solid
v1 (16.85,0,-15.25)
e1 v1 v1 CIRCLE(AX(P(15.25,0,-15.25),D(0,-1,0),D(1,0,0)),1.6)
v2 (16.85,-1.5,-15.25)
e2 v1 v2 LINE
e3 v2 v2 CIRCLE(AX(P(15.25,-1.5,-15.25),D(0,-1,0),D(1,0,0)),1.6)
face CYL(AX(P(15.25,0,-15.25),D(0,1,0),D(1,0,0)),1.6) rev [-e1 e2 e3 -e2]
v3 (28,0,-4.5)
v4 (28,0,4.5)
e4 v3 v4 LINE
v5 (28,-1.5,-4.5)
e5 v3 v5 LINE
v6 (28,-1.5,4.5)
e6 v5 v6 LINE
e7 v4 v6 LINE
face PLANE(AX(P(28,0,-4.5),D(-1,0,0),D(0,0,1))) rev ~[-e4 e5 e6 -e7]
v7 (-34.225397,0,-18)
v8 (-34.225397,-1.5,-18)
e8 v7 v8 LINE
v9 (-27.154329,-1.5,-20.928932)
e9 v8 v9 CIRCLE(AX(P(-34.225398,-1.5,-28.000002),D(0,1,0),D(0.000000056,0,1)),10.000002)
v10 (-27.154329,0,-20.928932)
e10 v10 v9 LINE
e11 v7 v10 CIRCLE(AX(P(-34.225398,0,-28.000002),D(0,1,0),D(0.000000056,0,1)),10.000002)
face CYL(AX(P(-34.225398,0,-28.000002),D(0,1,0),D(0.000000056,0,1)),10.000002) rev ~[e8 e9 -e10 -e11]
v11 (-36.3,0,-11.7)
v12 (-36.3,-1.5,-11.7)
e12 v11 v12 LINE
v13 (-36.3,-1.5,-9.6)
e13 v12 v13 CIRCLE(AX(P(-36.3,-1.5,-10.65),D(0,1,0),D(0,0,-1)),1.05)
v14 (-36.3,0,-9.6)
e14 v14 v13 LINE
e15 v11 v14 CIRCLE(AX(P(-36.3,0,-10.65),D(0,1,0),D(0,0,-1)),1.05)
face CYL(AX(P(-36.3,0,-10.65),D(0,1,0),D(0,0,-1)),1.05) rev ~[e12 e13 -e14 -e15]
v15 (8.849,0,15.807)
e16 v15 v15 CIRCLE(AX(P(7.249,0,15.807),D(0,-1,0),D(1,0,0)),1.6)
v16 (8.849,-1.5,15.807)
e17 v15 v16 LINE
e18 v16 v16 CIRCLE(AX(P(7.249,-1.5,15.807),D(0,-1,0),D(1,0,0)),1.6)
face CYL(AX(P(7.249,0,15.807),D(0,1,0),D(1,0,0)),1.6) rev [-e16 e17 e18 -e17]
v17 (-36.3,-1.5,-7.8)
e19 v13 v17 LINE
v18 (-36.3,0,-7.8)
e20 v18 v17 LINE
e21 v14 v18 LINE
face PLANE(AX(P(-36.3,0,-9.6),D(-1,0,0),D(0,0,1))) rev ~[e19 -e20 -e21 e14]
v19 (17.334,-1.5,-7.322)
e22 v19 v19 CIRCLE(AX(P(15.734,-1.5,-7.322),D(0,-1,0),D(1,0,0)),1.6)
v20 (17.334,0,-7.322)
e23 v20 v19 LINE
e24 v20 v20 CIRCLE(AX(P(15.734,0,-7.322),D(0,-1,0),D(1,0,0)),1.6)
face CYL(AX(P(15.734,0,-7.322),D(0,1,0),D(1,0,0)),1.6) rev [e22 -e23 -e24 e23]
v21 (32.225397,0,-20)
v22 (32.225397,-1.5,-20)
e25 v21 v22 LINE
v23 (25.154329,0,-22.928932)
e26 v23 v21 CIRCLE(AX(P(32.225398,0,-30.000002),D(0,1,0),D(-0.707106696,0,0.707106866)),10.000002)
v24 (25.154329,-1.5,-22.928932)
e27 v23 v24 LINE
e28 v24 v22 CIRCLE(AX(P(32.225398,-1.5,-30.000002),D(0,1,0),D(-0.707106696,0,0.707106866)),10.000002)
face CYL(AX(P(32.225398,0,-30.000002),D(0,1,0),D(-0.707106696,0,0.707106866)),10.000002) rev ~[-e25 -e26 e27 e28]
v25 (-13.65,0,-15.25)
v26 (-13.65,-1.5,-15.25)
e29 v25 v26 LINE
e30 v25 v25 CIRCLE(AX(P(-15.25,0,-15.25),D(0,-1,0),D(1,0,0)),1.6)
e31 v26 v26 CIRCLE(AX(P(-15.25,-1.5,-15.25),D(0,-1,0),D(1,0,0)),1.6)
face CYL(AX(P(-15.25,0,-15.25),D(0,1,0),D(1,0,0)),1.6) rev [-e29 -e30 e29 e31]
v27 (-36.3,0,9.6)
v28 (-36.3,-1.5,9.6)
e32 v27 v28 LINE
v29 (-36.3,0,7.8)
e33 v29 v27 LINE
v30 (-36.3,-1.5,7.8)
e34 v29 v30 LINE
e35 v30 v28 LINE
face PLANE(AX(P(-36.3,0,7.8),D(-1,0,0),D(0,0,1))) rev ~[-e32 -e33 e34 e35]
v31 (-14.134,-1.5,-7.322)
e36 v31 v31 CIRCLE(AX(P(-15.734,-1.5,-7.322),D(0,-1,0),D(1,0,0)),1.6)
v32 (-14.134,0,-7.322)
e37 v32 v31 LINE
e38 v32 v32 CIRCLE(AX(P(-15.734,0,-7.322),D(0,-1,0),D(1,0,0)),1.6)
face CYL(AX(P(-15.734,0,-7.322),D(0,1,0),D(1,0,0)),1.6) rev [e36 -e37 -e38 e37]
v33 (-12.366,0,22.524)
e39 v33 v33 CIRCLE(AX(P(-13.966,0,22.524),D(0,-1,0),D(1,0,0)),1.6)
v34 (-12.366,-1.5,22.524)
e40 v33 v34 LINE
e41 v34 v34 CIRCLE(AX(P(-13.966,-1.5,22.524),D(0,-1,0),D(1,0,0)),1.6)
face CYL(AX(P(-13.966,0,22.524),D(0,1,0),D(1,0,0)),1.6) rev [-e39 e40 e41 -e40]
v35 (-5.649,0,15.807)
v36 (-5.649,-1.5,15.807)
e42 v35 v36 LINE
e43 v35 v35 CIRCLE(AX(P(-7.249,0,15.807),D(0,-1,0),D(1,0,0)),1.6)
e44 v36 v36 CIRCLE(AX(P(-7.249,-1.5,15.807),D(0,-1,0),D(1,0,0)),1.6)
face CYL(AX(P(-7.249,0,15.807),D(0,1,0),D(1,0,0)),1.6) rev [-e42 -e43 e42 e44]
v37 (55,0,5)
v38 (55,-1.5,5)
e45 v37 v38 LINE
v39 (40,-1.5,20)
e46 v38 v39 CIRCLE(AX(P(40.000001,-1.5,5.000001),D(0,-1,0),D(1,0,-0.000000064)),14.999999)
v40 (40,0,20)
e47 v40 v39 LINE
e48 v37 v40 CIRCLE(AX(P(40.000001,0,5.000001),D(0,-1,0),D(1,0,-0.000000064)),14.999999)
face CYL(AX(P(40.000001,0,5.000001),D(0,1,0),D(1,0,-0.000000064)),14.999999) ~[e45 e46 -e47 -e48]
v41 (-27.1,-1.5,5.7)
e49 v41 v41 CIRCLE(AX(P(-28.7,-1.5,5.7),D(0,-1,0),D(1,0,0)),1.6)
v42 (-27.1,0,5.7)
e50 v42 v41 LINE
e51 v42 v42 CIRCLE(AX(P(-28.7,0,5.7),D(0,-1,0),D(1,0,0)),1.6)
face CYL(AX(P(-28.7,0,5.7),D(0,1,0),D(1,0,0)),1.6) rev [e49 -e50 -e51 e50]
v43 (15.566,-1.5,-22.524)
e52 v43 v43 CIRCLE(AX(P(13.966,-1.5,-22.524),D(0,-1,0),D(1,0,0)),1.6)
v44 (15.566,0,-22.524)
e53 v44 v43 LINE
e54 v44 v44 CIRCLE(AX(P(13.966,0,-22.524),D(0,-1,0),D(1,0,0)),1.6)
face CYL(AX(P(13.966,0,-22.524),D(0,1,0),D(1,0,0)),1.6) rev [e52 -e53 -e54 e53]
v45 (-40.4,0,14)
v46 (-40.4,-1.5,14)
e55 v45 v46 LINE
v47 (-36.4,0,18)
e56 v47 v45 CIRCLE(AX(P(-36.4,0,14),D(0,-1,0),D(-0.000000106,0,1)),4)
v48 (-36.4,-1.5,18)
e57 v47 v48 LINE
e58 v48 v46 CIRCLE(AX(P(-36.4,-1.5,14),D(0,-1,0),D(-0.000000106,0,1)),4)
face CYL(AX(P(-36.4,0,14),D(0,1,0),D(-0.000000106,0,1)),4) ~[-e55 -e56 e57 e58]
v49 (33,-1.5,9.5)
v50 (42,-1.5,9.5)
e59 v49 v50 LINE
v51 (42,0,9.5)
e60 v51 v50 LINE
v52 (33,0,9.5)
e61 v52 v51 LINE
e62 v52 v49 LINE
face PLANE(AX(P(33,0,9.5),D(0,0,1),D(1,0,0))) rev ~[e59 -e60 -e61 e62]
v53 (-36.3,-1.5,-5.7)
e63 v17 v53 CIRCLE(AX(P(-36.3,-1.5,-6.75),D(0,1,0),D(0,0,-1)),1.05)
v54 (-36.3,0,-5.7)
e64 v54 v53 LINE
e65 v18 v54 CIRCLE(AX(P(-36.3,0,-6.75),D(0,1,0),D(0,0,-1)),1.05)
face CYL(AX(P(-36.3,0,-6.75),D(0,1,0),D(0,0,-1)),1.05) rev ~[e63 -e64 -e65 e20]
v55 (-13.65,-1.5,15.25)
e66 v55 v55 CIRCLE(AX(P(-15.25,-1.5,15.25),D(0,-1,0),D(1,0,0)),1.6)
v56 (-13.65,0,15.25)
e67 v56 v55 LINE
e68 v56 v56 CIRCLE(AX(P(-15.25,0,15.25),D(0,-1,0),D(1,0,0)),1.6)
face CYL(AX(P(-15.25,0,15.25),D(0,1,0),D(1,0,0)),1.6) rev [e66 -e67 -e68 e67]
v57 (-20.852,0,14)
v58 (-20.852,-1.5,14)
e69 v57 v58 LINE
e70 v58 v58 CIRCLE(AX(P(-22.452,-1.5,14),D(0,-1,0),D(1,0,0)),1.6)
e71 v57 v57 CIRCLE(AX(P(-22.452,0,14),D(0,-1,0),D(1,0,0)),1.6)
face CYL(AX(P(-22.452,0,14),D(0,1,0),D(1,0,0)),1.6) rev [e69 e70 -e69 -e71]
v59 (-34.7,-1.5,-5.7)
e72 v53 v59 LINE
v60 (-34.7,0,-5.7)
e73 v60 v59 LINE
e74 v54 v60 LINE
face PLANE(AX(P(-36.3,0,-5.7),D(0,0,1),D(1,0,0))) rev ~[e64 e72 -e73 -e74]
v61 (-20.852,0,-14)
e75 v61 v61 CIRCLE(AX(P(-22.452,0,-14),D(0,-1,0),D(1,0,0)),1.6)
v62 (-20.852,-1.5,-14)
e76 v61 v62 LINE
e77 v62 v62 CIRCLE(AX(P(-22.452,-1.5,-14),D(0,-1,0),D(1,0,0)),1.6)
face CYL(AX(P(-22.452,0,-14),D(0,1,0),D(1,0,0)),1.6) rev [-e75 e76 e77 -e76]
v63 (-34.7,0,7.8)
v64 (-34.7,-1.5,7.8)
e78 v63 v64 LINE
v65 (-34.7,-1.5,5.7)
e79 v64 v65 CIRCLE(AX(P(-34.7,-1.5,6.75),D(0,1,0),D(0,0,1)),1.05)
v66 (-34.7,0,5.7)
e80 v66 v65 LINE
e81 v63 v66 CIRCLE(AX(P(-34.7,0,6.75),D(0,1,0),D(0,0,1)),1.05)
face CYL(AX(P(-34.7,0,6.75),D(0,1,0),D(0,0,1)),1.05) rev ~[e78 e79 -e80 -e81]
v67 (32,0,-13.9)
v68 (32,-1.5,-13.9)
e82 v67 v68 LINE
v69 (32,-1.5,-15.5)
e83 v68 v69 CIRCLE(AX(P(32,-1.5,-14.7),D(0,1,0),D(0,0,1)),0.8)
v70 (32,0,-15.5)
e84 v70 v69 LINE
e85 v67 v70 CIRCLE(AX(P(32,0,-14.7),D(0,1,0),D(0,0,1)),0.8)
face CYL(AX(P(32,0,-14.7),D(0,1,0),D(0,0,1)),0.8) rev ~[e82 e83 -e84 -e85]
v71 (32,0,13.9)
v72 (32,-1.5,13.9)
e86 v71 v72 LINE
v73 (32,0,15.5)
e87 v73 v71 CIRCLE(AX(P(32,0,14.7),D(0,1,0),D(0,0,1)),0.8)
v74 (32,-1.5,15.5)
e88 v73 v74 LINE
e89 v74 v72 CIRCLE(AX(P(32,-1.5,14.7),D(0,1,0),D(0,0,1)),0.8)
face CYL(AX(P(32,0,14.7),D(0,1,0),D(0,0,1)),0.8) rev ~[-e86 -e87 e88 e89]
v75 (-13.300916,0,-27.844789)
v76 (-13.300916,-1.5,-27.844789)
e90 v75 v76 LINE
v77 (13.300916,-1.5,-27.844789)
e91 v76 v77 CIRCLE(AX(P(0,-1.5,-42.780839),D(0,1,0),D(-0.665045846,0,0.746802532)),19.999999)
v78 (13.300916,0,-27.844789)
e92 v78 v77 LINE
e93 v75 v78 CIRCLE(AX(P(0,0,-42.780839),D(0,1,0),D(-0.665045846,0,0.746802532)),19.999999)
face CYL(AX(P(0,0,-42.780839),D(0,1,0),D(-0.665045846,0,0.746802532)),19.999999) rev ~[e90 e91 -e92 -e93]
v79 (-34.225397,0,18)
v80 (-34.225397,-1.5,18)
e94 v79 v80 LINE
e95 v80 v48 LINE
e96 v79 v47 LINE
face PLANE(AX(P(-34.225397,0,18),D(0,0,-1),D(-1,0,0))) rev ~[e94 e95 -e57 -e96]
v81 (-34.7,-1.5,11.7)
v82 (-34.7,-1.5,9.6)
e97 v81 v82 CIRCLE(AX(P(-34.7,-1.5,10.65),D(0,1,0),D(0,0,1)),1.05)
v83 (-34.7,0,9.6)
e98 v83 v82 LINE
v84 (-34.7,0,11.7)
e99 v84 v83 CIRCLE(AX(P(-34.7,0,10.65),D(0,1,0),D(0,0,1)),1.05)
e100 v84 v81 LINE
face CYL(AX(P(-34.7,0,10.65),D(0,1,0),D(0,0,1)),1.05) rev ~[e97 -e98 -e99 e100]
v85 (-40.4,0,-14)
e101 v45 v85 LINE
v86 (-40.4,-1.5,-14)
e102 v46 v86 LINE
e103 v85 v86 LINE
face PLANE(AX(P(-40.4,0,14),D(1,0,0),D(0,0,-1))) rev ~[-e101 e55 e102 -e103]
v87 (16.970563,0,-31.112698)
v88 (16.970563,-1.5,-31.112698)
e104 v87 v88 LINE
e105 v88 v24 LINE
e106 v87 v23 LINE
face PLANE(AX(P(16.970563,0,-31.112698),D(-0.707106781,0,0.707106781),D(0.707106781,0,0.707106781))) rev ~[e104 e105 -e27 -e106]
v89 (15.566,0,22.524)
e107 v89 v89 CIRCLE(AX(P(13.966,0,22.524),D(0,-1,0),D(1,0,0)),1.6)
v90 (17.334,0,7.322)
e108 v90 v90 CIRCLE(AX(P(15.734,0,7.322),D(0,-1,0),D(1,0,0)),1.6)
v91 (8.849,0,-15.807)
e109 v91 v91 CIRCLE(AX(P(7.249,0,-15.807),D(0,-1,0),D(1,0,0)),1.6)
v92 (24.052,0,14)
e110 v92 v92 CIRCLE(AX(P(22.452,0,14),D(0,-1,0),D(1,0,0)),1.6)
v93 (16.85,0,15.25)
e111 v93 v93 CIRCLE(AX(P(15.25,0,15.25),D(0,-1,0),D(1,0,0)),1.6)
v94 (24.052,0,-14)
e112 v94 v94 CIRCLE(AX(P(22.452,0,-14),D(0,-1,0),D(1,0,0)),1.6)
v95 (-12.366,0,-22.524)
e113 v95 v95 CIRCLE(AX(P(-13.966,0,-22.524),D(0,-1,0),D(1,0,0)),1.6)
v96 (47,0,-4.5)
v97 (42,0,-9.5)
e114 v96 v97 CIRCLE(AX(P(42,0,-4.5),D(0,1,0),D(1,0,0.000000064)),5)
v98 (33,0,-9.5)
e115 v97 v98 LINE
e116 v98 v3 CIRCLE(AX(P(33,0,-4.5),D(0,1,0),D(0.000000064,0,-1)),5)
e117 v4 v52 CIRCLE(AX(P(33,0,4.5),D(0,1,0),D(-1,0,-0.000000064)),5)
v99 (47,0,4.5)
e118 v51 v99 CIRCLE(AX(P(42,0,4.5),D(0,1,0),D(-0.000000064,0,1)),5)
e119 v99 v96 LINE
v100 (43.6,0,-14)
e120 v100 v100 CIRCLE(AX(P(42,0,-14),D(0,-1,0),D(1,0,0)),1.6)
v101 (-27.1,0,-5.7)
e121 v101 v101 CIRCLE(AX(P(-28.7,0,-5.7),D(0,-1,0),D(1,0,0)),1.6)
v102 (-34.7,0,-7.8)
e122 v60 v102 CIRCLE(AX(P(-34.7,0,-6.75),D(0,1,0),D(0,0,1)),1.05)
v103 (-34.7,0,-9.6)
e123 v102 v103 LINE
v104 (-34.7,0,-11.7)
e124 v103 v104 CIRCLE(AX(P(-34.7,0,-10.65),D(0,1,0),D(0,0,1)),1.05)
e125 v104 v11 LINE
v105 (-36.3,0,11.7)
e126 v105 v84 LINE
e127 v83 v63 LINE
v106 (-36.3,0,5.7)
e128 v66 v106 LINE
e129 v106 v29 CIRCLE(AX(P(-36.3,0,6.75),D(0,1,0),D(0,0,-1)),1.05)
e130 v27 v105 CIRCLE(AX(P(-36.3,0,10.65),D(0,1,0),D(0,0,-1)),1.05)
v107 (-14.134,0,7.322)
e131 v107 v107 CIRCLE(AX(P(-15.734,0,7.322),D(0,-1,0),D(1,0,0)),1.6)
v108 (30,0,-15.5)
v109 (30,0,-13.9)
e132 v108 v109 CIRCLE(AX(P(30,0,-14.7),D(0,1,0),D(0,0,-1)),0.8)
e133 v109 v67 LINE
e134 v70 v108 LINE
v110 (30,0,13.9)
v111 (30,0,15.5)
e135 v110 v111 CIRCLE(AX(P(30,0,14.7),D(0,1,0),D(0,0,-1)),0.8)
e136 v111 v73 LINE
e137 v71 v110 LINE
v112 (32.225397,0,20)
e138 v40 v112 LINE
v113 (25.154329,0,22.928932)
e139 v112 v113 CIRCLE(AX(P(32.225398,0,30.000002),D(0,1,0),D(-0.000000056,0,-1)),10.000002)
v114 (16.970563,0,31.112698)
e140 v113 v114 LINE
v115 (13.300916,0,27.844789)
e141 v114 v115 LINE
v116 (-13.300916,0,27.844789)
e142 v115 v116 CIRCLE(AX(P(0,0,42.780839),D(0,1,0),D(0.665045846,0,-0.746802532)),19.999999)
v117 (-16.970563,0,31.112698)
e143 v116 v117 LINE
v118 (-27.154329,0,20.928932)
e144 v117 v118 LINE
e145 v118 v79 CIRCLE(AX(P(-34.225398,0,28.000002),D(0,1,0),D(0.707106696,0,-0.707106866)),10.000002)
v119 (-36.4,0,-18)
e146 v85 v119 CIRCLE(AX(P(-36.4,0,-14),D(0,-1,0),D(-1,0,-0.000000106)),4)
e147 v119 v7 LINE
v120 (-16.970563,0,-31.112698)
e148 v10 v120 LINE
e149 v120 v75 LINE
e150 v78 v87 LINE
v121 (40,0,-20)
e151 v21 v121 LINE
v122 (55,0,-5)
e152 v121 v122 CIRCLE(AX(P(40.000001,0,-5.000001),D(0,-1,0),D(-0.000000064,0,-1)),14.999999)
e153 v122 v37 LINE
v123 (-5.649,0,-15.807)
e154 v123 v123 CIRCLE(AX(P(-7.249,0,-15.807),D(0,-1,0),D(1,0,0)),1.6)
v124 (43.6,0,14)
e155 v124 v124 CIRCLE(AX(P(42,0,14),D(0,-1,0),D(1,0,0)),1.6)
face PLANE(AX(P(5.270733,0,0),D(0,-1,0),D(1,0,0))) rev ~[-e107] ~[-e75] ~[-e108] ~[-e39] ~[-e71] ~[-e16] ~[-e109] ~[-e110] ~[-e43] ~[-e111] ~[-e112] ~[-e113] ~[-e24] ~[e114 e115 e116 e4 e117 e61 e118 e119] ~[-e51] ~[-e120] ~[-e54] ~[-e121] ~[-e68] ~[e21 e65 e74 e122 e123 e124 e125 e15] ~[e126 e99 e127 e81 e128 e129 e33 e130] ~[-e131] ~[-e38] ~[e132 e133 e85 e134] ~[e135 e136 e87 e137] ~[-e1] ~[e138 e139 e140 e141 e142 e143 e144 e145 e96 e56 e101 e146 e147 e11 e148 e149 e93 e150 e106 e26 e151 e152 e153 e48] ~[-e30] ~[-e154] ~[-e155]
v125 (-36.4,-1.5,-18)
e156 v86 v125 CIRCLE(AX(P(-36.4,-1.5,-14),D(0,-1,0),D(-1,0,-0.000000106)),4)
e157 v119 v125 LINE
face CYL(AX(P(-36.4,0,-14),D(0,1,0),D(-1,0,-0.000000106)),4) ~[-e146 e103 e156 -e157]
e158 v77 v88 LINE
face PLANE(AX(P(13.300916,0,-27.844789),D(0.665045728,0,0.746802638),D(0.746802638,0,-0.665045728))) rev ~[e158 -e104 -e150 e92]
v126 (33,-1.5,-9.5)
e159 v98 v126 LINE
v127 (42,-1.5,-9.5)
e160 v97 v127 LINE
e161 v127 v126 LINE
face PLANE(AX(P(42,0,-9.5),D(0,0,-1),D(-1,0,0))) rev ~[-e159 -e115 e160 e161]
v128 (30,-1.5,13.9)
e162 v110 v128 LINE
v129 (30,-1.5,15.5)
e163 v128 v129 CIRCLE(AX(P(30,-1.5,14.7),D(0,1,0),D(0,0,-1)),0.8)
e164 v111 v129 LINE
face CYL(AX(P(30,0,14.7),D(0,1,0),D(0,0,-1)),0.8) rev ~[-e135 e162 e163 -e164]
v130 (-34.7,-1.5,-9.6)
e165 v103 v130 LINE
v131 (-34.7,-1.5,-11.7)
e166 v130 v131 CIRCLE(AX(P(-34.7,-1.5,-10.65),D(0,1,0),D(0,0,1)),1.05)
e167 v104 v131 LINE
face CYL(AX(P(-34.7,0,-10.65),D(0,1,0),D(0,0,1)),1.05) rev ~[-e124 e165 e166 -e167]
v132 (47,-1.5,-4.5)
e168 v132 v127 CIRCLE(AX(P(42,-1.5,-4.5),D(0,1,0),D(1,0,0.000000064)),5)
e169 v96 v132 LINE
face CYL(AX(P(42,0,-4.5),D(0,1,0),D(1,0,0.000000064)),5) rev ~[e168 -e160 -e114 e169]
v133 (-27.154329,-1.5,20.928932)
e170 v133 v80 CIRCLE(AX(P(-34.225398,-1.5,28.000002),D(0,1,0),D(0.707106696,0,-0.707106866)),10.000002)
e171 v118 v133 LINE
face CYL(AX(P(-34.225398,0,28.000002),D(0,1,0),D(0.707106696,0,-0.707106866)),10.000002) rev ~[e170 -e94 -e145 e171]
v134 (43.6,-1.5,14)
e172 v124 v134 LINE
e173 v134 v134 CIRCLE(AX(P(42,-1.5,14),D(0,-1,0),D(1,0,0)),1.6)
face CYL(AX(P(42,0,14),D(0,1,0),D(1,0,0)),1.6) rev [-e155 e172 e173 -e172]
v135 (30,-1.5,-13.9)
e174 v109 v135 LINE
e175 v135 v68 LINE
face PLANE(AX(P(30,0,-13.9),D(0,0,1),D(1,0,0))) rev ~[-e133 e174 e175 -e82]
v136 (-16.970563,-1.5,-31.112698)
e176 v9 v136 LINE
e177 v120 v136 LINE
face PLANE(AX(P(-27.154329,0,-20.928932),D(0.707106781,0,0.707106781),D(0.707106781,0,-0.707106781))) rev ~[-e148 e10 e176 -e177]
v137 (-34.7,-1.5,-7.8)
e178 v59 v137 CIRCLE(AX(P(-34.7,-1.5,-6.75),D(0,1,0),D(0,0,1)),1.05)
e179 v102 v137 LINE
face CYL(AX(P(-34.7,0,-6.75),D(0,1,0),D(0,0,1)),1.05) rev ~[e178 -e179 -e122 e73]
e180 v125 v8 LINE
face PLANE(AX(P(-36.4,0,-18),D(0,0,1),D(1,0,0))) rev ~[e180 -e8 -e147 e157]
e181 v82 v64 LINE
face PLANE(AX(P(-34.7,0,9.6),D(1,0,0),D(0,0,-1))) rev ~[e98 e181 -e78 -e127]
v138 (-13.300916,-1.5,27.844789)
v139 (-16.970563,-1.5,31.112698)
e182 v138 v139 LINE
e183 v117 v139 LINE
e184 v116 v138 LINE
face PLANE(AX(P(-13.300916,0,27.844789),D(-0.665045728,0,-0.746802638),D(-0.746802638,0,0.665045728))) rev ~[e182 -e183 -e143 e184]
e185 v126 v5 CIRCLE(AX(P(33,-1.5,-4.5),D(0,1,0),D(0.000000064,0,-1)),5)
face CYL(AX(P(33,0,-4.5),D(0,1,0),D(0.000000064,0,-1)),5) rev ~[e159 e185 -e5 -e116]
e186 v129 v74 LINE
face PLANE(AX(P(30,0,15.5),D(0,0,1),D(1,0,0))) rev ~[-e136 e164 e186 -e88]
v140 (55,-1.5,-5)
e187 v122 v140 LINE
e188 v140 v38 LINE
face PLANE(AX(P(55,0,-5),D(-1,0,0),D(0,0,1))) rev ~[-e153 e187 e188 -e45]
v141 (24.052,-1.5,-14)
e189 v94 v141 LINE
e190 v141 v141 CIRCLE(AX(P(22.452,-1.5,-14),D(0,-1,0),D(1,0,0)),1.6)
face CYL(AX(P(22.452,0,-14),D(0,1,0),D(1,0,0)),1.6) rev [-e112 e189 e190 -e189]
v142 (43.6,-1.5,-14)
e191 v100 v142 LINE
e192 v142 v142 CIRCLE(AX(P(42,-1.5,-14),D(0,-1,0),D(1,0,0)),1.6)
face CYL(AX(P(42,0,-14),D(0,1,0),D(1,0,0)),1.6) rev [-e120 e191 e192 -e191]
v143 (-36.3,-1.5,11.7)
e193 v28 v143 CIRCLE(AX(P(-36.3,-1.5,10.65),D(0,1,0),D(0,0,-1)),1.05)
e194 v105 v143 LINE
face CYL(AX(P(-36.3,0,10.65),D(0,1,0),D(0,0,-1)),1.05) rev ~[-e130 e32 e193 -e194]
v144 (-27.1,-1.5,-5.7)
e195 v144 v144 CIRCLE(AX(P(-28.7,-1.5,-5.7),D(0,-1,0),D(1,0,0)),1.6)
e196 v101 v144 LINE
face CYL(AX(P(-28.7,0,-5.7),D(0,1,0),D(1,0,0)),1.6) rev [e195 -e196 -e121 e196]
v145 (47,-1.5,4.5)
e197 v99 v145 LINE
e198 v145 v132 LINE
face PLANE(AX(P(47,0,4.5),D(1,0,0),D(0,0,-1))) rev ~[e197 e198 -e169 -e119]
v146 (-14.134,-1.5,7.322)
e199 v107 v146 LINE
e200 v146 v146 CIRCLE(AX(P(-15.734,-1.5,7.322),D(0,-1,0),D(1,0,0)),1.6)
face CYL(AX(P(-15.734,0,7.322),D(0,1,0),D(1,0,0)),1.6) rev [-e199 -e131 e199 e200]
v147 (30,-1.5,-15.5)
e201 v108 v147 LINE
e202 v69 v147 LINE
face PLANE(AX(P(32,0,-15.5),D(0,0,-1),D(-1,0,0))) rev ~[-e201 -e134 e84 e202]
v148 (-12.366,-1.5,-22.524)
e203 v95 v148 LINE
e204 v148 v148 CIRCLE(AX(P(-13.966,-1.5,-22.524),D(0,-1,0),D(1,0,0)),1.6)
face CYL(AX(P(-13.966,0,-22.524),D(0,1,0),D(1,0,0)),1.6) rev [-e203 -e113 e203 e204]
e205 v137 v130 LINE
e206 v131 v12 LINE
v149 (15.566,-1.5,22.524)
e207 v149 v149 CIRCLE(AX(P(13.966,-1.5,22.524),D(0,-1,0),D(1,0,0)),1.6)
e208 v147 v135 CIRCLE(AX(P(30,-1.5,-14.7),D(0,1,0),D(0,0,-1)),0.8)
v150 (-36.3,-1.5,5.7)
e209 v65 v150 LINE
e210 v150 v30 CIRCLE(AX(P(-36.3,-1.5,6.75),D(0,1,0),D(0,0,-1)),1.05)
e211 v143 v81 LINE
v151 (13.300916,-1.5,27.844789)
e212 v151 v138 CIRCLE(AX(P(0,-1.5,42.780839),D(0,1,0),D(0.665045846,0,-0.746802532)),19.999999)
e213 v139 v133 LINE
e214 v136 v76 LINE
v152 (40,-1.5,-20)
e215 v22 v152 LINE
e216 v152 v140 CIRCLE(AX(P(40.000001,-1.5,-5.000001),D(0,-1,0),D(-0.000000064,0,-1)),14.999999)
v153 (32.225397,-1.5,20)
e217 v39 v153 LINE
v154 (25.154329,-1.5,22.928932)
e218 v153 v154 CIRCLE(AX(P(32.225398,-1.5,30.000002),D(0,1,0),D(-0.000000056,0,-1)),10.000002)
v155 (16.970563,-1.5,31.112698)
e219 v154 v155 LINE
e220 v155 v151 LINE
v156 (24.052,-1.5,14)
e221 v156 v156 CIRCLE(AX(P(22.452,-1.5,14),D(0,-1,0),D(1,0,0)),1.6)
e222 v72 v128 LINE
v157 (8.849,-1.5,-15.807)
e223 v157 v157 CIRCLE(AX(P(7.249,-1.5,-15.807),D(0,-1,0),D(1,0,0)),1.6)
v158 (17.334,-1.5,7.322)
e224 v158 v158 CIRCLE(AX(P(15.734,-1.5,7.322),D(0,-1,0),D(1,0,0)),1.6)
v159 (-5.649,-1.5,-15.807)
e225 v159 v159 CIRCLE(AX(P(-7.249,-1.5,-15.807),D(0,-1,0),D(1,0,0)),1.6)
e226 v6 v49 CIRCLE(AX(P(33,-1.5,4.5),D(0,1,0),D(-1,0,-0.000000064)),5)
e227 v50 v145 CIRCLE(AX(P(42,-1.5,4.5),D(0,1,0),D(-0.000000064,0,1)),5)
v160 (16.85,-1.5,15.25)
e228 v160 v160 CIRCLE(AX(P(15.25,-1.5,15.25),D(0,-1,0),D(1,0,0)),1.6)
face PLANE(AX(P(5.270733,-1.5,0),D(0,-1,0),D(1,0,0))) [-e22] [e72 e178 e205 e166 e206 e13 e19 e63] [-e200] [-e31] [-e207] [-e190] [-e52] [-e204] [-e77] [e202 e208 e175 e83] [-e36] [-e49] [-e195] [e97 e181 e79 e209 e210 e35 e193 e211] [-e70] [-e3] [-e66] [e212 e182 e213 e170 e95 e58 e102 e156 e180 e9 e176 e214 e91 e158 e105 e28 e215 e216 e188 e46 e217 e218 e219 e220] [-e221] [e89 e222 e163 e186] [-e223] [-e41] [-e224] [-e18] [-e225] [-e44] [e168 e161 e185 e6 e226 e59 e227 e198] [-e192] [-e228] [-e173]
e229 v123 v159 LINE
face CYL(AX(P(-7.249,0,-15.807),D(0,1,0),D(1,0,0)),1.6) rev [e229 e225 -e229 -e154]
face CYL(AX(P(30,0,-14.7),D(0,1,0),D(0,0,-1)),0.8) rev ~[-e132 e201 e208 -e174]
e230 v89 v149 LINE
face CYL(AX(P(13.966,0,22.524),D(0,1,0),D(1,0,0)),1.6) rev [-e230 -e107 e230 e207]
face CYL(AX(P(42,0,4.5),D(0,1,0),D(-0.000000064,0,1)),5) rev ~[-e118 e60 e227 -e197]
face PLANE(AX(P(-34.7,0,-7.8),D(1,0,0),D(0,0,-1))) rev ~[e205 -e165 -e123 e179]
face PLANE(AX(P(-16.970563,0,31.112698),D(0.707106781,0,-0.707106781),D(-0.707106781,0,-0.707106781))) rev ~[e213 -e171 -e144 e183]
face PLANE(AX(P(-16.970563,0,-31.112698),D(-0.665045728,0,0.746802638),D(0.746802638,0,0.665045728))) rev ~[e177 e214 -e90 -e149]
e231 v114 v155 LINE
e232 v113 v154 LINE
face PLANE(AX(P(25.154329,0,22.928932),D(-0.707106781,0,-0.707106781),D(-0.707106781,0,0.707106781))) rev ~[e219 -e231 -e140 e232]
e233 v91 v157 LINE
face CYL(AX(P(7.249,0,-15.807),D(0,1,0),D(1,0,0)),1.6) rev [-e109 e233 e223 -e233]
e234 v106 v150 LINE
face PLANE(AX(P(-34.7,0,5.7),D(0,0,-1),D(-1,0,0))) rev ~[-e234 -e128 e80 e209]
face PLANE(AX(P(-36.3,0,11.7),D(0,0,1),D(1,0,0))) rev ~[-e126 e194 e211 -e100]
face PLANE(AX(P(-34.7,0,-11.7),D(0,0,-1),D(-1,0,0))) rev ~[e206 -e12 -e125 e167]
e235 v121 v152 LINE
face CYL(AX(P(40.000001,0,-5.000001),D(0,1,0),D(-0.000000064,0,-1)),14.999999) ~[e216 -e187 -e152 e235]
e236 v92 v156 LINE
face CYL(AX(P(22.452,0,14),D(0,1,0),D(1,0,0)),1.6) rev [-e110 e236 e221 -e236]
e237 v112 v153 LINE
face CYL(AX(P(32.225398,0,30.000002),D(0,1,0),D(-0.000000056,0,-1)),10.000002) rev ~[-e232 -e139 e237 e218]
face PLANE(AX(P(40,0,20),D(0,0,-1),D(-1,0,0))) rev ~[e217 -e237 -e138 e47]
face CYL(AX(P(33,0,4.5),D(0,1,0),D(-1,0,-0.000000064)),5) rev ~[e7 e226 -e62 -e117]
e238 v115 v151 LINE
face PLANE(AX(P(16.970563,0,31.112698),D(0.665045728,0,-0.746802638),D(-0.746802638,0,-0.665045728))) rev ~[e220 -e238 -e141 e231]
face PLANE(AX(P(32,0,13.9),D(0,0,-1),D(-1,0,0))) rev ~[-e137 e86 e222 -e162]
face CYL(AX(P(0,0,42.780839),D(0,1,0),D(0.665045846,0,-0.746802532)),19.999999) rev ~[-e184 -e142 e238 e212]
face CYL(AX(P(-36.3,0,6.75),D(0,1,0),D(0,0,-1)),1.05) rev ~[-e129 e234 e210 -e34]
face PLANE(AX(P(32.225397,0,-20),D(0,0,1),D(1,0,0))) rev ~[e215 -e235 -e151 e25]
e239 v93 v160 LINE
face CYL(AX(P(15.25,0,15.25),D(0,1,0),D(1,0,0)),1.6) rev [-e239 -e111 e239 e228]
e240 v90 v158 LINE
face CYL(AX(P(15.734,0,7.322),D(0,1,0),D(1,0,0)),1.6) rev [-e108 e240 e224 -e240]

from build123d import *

# Parameters (mm, degrees)
F0_R     = 1.6
F1_DEPTH = 1.5


with BuildPart() as f1:
    # F0 (on Front) → F1 (new body)
    with BuildSketch(Plane.XZ):
        with BuildLine():
            Line((25.154329, 22.928932), (16.970563, 31.112698))
            Line((16.970563, 31.112698), (13.300916, 27.844789))
            ThreePointArc((13.300916, 27.844789), (0, 22.78084), (-13.300916, 27.844789))
            Line((-13.300916, 27.844789), (-16.970563, 31.112698))
            Line((-16.970563, 31.112698), (-27.154329, 20.928932))
            ThreePointArc((-27.154329, 20.928932), (-30.398562, 18.761205), (-34.225397, 18))
            Line((-34.225397, 18), (-36.4, 18))
            ThreePointArc((-36.4, 18), (-39.228427, 16.828427), (-40.4, 14))
            Line((-40.4, 14), (-40.4, 0))
            Line((-40.4, 0), (-40.4, -14))
            ThreePointArc((-40.4, -14), (-39.228427, -16.828427), (-36.4, -18))
            Line((-36.4, -18), (-34.225397, -18))
            ThreePointArc((-34.225397, -18), (-30.398562, -18.761205), (-27.154329, -20.928932))
            Line((-27.154329, -20.928932), (-16.970563, -31.112698))
            Line((-16.970563, -31.112698), (-13.300916, -27.844789))
            ThreePointArc((-13.300916, -27.844789), (0, -22.78084), (13.300916, -27.844789))
            Line((13.300916, -27.844789), (16.970563, -31.112698))
            Line((16.970563, -31.112698), (25.154329, -22.928932))
            ThreePointArc((25.154329, -22.928932), (28.398562, -20.761205), (32.225397, -20))
            Line((32.225397, -20), (40, -20))
            ThreePointArc((40, -20), (50.606602, -15.606602), (55, -5))
            Line((55, -5), (55, 0))
            Line((55, 0), (55, 5))
            ThreePointArc((55, 5), (50.606602, 15.606602), (40, 20))
            Line((40, 20), (32.225397, 20))
            ThreePointArc((32.225397, 20), (28.398562, 20.761205), (25.154329, 22.928932))
        make_face()
        with Locations((-13.966, -22.524)):
            Circle(F0_R, mode=Mode.SUBTRACT)
        with Locations((-7.249, -15.807)):
            Circle(F0_R, mode=Mode.SUBTRACT)
        with Locations((7.249, -15.807)):
            Circle(F0_R, mode=Mode.SUBTRACT)
        with BuildLine():
            ThreePointArc((-34.7, -9.6), (-33.65, -10.65), (-34.7, -11.7))
            Line((-34.7, -11.7), (-36.3, -11.7))
            ThreePointArc((-36.3, -11.7), (-37.35, -10.65), (-36.3, -9.6))
            Line((-36.3, -9.6), (-36.3, -7.8))
            ThreePointArc((-36.3, -7.8), (-37.35, -6.75), (-36.3, -5.7))
            Line((-36.3, -5.7), (-34.7, -5.7))
            ThreePointArc((-34.7, -5.7), (-33.65, -6.75), (-34.7, -7.8))
            Line((-34.7, -7.8), (-34.7, -9.6))
        make_face(mode=Mode.SUBTRACT)
        with Locations((-22.452, -14)):
            Circle(F0_R, mode=Mode.SUBTRACT)
        with Locations((-28.7, -5.7)):
            Circle(F0_R, mode=Mode.SUBTRACT)
        with Locations((-15.25, -15.25)):
            Circle(F0_R, mode=Mode.SUBTRACT)
        with Locations((-15.734, -7.322)):
            Circle(F0_R, mode=Mode.SUBTRACT)
        with Locations((13.966, -22.524)):
            Circle(F0_R, mode=Mode.SUBTRACT)
        with Locations((15.25, -15.25)):
            Circle(F0_R, mode=Mode.SUBTRACT)
        with Locations((22.452, -14)):
            Circle(F0_R, mode=Mode.SUBTRACT)
        with BuildLine():
            Line((30, -13.9), (32, -13.9))
            ThreePointArc((32, -13.9), (32.8, -14.7), (32, -15.5))
            Line((32, -15.5), (30, -15.5))
            ThreePointArc((30, -15.5), (29.2, -14.7), (30, -13.9))
        make_face(mode=Mode.SUBTRACT)
        with Locations((15.734, -7.322)):
            Circle(F0_R, mode=Mode.SUBTRACT)
        with Locations((42, -14)):
            Circle(F0_R, mode=Mode.SUBTRACT)
        with Locations((-28.7, 5.7)):
            Circle(F0_R, mode=Mode.SUBTRACT)
        with BuildLine():
            ThreePointArc((-34.7, 7.8), (-33.65, 6.75), (-34.7, 5.7))
            Line((-34.7, 5.7), (-36.3, 5.7))
            ThreePointArc((-36.3, 5.7), (-37.35, 6.75), (-36.3, 7.8))
            Line((-36.3, 7.8), (-36.3, 9.6))
            ThreePointArc((-36.3, 9.6), (-37.35, 10.65), (-36.3, 11.7))
            Line((-36.3, 11.7), (-34.7, 11.7))
            ThreePointArc((-34.7, 11.7), (-33.65, 10.65), (-34.7, 9.6))
            Line((-34.7, 9.6), (-34.7, 7.8))
        make_face(mode=Mode.SUBTRACT)
        with Locations((-22.452, 14)):
            Circle(F0_R, mode=Mode.SUBTRACT)
        with Locations((-15.734, 7.322)):
            Circle(F0_R, mode=Mode.SUBTRACT)
        with Locations((-15.25, 15.25)):
            Circle(F0_R, mode=Mode.SUBTRACT)
        with Locations((-7.249, 15.807)):
            Circle(F0_R, mode=Mode.SUBTRACT)
        with Locations((-13.966, 22.524)):
            Circle(F0_R, mode=Mode.SUBTRACT)
        with Locations((7.249, 15.807)):
            Circle(F0_R, mode=Mode.SUBTRACT)
        with Locations((15.734, 7.322)):
            Circle(F0_R, mode=Mode.SUBTRACT)
        with Locations((15.25, 15.25)):
            Circle(F0_R, mode=Mode.SUBTRACT)
        with Locations((22.452, 14)):
            Circle(F0_R, mode=Mode.SUBTRACT)
        with BuildLine():
            ThreePointArc((30, 13.9), (29.2, 14.7), (30, 15.5))
            Line((30, 15.5), (32, 15.5))
            ThreePointArc((32, 15.5), (32.8, 14.7), (32, 13.9))
            Line((32, 13.9), (30, 13.9))
        make_face(mode=Mode.SUBTRACT)
        with BuildLine():
            Line((28, -4.5), (28, 0))
            Line((28, 0), (28, 4.5))
            ThreePointArc((28, 4.5), (29.464466, 8.035534), (33, 9.5))
            Line((33, 9.5), (42, 9.5))
            ThreePointArc((42, 9.5), (45.535534, 8.035534), (47, 4.5))
            Line((47, 4.5), (47, 0))
            Line((47, 0), (47, -4.5))
            ThreePointArc((47, -4.5), (45.535534, -8.035534), (42, -9.5))
            Line((42, -9.5), (33, -9.5))
            ThreePointArc((33, -9.5), (29.464466, -8.035534), (28, -4.5))
        make_face(mode=Mode.SUBTRACT)
        with Locations((42, 14)):
            Circle(F0_R, mode=Mode.SUBTRACT)
        with Locations((13.966, 22.524)):
            Circle(F0_R, mode=Mode.SUBTRACT)
    extrude(amount=F1_DEPTH)


solid = f1.part
